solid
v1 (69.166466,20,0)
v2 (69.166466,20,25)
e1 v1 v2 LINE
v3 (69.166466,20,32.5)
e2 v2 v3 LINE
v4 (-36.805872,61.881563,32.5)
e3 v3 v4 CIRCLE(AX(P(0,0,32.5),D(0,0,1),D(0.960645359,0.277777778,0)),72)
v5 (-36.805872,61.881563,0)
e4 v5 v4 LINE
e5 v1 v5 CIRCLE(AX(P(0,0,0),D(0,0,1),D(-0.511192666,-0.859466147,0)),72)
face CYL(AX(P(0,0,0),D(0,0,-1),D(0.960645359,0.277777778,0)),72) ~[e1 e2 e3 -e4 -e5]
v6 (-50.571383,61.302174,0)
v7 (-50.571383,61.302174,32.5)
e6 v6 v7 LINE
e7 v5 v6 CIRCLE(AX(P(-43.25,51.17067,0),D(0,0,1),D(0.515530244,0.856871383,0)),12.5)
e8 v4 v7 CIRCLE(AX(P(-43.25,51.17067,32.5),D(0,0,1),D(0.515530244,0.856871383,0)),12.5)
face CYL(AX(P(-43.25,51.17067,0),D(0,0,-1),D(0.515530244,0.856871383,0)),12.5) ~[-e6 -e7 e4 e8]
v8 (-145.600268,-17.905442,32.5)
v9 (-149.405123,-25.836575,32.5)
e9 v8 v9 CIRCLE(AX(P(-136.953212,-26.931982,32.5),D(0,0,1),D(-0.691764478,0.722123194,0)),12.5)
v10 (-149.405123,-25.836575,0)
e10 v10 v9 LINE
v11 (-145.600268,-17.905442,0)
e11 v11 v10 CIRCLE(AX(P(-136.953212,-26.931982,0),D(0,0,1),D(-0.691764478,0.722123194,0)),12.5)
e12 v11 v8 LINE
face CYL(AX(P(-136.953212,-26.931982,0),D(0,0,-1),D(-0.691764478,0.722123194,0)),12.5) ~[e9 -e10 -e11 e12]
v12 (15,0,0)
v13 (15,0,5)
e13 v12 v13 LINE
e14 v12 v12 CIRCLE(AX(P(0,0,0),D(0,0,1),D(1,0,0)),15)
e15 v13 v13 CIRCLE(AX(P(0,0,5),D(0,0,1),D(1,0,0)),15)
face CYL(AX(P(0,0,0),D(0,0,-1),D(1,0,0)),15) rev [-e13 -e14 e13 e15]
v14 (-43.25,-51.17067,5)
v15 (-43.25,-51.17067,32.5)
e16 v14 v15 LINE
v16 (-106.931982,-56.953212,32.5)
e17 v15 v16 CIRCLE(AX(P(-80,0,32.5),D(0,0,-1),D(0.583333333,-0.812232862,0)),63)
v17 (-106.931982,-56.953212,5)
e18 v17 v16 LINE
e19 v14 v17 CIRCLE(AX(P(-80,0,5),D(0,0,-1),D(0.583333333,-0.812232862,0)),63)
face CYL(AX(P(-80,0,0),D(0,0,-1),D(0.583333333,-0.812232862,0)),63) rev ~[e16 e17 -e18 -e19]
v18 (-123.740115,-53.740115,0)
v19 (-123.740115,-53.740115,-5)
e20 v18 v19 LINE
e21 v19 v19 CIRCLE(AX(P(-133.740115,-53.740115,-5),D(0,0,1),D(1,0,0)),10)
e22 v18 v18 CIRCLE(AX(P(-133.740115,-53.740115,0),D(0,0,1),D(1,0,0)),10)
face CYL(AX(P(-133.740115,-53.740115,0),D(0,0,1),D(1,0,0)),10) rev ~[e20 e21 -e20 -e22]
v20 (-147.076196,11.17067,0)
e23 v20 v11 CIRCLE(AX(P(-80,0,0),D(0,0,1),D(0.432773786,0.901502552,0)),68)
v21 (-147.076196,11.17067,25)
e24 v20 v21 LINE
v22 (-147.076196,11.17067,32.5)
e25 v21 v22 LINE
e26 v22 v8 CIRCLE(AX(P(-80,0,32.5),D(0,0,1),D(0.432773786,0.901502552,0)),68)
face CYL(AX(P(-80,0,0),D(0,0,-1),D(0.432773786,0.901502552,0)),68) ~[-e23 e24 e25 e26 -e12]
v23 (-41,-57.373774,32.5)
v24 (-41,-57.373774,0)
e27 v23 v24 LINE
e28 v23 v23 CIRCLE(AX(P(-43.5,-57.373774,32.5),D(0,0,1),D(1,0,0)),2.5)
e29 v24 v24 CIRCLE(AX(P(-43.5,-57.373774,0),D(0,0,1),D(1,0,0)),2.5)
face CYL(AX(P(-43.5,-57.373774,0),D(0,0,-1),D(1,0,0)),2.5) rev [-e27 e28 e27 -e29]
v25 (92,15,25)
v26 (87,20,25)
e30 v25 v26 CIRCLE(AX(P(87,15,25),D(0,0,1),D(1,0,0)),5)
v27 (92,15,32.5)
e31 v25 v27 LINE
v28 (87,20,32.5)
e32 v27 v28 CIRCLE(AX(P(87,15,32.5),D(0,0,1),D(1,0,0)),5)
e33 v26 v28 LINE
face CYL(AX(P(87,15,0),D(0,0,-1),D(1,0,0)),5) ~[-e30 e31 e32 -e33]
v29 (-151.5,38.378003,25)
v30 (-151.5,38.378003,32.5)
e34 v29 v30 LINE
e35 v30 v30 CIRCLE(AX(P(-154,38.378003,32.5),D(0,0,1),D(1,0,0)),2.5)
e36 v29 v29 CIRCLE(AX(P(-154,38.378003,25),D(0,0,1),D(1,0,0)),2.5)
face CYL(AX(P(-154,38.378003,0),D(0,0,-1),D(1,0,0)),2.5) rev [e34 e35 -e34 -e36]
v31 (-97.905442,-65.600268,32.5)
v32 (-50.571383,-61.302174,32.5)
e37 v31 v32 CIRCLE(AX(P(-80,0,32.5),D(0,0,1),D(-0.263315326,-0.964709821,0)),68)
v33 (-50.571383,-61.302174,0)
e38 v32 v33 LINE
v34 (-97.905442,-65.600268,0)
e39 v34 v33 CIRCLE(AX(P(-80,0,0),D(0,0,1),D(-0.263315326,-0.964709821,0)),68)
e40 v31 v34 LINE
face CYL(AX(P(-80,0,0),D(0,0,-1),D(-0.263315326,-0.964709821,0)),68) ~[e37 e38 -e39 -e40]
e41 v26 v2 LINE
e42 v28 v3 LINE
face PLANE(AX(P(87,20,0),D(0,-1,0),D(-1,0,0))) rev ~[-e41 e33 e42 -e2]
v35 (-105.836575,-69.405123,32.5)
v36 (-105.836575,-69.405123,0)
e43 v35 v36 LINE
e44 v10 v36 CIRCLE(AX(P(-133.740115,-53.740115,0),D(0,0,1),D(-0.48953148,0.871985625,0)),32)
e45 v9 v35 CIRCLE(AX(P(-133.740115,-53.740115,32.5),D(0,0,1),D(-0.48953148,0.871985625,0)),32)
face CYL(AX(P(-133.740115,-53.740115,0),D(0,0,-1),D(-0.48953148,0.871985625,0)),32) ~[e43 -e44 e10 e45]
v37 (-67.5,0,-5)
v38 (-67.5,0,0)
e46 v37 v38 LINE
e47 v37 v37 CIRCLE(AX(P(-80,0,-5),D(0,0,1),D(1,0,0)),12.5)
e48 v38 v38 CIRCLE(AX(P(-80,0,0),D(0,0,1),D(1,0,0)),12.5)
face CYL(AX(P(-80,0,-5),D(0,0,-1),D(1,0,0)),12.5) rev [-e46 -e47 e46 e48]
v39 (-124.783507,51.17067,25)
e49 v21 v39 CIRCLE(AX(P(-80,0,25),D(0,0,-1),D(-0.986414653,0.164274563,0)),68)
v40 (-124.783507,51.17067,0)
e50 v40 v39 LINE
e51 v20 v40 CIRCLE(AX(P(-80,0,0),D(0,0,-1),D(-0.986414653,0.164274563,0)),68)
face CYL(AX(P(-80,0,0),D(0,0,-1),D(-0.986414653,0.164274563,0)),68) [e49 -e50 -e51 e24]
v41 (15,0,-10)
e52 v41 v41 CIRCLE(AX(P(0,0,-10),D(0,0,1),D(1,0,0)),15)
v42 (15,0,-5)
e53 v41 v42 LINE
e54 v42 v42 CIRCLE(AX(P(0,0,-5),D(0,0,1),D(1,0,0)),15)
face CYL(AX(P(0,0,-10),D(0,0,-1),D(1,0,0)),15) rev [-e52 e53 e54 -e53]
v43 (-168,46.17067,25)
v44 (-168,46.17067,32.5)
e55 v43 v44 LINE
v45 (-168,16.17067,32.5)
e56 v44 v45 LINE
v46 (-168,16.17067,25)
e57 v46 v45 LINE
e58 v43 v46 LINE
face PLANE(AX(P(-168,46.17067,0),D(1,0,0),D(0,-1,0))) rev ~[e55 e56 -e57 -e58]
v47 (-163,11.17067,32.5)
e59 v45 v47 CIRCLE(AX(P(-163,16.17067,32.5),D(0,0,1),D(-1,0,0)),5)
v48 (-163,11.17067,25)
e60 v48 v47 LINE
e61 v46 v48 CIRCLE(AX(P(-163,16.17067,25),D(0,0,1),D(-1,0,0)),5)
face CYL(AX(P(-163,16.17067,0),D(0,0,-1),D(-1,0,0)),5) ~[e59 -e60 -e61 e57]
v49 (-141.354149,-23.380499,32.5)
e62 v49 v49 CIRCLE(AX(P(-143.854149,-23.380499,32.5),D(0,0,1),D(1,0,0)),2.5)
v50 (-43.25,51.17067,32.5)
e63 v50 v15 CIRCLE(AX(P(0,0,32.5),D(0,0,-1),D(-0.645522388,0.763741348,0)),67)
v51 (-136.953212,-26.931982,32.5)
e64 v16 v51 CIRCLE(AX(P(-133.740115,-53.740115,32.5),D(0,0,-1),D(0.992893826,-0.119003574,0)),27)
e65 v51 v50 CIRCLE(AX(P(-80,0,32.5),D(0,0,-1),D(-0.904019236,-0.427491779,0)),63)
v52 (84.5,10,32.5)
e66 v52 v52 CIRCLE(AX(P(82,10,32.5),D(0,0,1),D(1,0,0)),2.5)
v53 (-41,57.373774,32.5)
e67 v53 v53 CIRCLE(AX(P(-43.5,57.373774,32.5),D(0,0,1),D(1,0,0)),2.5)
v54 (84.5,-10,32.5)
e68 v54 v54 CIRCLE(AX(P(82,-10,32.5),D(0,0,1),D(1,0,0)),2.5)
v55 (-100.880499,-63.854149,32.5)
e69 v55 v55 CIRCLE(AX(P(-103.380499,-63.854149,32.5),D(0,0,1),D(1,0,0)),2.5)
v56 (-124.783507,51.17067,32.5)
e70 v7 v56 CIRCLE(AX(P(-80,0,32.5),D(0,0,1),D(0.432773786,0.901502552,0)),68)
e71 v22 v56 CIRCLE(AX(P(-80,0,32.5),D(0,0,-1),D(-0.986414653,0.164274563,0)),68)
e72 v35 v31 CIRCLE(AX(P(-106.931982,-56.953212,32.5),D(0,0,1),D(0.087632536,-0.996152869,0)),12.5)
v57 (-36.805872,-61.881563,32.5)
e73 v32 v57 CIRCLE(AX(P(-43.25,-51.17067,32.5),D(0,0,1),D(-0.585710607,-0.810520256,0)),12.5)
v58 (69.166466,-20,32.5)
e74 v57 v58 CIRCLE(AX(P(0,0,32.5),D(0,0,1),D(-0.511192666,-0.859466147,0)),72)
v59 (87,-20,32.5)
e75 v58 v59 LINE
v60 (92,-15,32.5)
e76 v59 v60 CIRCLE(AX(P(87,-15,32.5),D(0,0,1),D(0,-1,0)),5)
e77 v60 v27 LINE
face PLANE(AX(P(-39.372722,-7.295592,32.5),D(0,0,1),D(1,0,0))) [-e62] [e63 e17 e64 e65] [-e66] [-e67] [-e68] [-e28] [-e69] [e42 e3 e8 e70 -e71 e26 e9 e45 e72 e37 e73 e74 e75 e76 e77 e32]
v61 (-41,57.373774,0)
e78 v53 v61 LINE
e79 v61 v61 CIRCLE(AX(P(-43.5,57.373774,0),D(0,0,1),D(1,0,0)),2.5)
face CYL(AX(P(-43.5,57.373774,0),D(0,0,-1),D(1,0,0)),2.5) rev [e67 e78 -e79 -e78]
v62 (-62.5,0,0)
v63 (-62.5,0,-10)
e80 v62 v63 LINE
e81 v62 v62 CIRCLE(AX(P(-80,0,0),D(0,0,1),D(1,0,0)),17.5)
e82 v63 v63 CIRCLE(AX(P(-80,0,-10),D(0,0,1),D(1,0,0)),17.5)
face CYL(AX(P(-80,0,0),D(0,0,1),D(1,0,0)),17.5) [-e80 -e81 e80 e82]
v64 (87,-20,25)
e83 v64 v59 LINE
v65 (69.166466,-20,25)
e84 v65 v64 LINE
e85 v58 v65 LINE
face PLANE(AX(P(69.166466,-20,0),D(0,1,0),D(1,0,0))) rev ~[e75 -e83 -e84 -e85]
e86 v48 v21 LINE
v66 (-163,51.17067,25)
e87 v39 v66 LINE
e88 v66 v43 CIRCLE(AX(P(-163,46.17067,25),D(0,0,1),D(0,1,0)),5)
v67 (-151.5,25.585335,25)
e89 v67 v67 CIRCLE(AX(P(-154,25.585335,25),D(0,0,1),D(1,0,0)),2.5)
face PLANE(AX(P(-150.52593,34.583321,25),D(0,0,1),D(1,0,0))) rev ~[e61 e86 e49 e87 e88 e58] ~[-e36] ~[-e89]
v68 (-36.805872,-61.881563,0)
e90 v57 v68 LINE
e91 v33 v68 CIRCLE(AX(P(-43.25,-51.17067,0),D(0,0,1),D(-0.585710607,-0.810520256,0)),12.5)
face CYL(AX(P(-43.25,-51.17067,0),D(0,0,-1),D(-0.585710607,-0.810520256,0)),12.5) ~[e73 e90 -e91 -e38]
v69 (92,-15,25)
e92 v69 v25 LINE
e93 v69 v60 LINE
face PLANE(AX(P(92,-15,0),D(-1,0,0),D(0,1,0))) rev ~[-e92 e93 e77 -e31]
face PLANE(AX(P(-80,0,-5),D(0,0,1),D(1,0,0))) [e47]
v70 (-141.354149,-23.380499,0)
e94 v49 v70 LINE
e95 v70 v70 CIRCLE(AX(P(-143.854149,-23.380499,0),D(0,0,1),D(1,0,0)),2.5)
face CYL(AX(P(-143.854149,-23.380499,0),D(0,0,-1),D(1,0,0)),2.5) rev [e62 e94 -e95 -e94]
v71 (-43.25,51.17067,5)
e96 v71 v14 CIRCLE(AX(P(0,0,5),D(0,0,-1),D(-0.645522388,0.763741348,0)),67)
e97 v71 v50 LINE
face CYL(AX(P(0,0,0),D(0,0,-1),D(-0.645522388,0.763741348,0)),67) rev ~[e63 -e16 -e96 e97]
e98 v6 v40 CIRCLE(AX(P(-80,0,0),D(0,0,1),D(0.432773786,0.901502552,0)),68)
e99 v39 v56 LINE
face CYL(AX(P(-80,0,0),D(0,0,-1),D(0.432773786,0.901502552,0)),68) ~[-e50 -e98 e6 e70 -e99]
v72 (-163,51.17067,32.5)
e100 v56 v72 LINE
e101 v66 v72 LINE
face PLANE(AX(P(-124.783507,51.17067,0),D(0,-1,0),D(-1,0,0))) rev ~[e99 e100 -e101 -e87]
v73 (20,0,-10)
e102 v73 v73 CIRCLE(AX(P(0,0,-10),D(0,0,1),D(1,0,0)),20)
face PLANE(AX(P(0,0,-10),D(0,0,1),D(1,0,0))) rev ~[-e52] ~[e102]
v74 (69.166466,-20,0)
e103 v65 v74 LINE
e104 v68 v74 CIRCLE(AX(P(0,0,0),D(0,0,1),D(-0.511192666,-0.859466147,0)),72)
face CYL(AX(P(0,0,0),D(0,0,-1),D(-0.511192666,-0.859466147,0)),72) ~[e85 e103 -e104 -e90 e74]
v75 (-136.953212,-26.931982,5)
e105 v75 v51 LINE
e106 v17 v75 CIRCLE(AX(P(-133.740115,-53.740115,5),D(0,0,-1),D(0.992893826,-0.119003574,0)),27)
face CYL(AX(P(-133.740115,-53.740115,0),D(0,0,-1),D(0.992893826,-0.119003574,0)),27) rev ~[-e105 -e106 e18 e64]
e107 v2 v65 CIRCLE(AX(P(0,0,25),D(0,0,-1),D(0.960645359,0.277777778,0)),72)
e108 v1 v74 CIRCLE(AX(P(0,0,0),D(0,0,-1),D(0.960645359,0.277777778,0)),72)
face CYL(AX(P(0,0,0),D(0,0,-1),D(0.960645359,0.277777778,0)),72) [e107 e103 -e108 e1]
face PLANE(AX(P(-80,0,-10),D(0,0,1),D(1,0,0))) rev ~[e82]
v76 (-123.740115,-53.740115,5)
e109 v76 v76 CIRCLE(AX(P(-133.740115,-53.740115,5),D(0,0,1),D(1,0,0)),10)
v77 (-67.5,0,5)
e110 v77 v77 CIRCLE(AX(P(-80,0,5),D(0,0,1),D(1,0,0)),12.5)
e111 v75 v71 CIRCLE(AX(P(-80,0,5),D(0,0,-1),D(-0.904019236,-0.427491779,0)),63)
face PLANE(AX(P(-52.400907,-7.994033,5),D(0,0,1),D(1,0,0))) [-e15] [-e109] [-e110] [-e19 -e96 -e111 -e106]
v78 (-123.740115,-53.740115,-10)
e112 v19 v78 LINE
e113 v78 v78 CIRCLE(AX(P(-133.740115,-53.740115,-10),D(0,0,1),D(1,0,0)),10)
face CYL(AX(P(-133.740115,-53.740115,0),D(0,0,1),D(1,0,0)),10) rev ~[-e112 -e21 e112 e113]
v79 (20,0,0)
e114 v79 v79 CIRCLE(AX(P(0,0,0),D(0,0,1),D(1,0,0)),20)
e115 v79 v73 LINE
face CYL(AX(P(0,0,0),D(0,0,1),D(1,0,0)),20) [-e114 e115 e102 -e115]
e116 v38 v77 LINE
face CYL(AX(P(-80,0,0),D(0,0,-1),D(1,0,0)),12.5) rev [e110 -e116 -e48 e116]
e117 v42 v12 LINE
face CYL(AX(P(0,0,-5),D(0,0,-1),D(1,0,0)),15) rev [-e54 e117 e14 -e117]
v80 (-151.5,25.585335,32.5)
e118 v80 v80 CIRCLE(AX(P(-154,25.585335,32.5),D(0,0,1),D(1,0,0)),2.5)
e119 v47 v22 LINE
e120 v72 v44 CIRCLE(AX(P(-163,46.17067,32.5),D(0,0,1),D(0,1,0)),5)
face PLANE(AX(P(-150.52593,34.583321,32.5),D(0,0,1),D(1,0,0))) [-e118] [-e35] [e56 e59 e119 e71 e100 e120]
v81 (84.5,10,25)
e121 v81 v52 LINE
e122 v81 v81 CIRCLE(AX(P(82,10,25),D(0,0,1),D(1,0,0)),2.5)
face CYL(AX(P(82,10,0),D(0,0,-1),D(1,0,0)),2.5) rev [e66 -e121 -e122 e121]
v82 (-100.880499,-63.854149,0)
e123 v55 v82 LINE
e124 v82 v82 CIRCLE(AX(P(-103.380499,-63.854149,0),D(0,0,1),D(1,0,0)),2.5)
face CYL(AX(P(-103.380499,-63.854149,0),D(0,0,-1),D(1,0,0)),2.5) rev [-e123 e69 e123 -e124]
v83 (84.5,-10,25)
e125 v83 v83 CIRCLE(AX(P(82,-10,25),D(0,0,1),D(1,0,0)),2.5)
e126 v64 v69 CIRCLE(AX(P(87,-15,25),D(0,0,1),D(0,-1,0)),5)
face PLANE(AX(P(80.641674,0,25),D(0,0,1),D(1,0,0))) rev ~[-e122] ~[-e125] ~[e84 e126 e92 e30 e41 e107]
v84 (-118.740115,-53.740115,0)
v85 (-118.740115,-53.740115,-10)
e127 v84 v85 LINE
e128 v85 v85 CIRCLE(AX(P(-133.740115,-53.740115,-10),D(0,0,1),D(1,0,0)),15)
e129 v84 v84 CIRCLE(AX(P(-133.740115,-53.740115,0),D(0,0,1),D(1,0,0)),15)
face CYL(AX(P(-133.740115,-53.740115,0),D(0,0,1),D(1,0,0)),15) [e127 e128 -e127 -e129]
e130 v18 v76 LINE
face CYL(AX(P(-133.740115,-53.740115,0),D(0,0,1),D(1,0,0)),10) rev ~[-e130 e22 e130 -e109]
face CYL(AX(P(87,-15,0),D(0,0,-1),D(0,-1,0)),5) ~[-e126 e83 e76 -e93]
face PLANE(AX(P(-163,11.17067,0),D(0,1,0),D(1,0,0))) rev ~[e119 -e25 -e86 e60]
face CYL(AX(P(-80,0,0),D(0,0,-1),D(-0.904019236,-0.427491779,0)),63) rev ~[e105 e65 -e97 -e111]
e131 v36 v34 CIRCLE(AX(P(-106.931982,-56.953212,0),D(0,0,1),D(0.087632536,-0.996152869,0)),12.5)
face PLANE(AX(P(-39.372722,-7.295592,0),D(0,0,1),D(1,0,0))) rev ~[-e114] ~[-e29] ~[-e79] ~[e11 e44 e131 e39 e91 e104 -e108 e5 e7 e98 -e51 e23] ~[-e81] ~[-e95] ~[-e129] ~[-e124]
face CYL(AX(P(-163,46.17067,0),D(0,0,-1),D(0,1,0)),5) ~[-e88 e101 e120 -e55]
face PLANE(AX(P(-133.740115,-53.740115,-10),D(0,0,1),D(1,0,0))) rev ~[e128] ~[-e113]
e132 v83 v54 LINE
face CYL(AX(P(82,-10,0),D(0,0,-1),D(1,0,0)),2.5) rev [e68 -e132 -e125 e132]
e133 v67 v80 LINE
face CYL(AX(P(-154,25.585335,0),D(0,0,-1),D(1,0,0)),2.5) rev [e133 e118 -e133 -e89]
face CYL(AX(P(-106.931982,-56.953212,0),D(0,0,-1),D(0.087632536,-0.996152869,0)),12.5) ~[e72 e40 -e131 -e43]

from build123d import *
from build123d.topology import SkipClean

# Parameters (mm, degrees)
SKETCH1_R           = 2.5
SKETCH1_R_2         = 15
SKETCH1_R_3         = 12.5
BOSS_EXTRUDE2_DEPTH = 5
SKETCH1_5_R         = 2.5
BOSS_EXTRUDE3_DEPTH = 32.5
SKETCH1_6_R         = 2.5
CUT_EXTRUDE1_DEPTH  = 25
SKETCH1_7_R         = 20
SKETCH1_7_R_2       = 17.5
BOSS_EXTRUDE4_DEPTH = 10
CUT_EXTRUDE2_START  = -5
SKETCH1_8_R         = 15
SKETCH1_8_R_2       = 12.5
CUT_EXTRUDE2_DEPTH  = 5
SKETCH1_9_R         = 15
SKETCH1_9_R_2       = 10
BOSS_EXTRUDE5_DEPTH = 10
SKETCH1_10_R        = 10
CUT_EXTRUDE4_DEPTH  = 5
CUT_EXTRUDE5_START  = -10
SKETCH1_11_R        = 15
CUT_EXTRUDE5_DEPTH  = 10
SKETCH1_12_R        = 2.5
BOSS_EXTRUDE7_DEPTH = 32.5
SKETCH1_14_R        = 2.5
CUT_EXTRUDE7_DEPTH  = 25


with BuildPart() as part:
    # Sketch1 → Boss-Extrude2 (new body)
    with BuildSketch(Plane.XY):
        with BuildLine():
            ThreePointArc((-36.80587195, 61.881562601), (-43.775658453, 63.659612747), (-50.571382583, 61.302173509))
            ThreePointArc((-50.571382583, 61.302173509), (-123.538014062, 52.234484122), (-145.600267844, -17.905442155))
            ThreePointArc((-145.600267844, -17.905442155), (-148.223407914, -21.525256537), (-149.405122728, -25.836575371))
            ThreePointArc((-149.405122728, -25.836575371), (-156.367532368, -76.367532368), (-105.836575371, -69.405122728))
            ThreePointArc((-105.836575371, -69.405122728), (-101.525256537, -68.223407914), (-97.905442155, -65.600267844))
            ThreePointArc((-97.905442155, -65.600267844), (-73.850667048, -67.721382917), (-50.571382583, -61.302173509))
            ThreePointArc((-50.571382583, -61.302173509), (-43.775658453, -63.659612747), (-36.80587195, -61.881562601))
            ThreePointArc((-36.80587195, -61.881562601), (72, 0), (-36.80587195, 61.881562601))
        make_face()
        with Locations((-103.38049856, -63.85414855)):
            Circle(SKETCH1_R, mode=Mode.SUBTRACT)
        with Locations((-43.5, -57.373774497)):
            Circle(SKETCH1_R, mode=Mode.SUBTRACT)
        with Locations((-143.85414855, -23.38049856)):
            Circle(SKETCH1_R, mode=Mode.SUBTRACT)
        with Locations((-43.5, 57.373774497)):
            Circle(SKETCH1_R, mode=Mode.SUBTRACT)
        Circle(SKETCH1_R_2, mode=Mode.SUBTRACT)
        with Locations((-80, 0)):
            Circle(SKETCH1_R_3, mode=Mode.SUBTRACT)
    extrude(amount=BOSS_EXTRUDE2_DEPTH)

    # Sketch1<5> → Boss-Extrude3 (add)
    with BuildSketch(Plane.XY):
        with BuildLine():
            Line((92, -15), (92, 15))
            ThreePointArc((92, 15), (90.535533906, 18.535533906), (87, 20))
            Line((87, 20), (69.166465863, 20))
            ThreePointArc((69.166465863, 20), (26.463528319, 66.9602992), (-36.80587195, 61.881562601))
            ThreePointArc((-36.80587195, 61.881562601), (-43.775658453, 63.659612747), (-50.571382583, 61.302173509))
            ThreePointArc((-50.571382583, 61.302173509), (-123.538014062, 52.234484122), (-145.600267844, -17.905442155))
            ThreePointArc((-145.600267844, -17.905442155), (-148.223407914, -21.525256537), (-149.405122728, -25.836575371))
            ThreePointArc((-149.405122728, -25.836575371), (-156.367532368, -76.367532368), (-105.836575371, -69.405122728))
            ThreePointArc((-105.836575371, -69.405122728), (-101.525256537, -68.223407914), (-97.905442155, -65.600267844))
            ThreePointArc((-97.905442155, -65.600267844), (-73.850667048, -67.721382917), (-50.571382583, -61.302173509))
            ThreePointArc((-50.571382583, -61.302173509), (-43.775658453, -63.659612747), (-36.80587195, -61.881562601))
            ThreePointArc((-36.80587195, -61.881562601), (26.463528319, -66.9602992), (69.166465863, -20))
            Line((69.166465863, -20), (87, -20))
            ThreePointArc((87, -20), (90.535533906, -18.535533906), (92, -15))
        make_face()
        with Locations((82, -10)):
            Circle(SKETCH1_5_R, mode=Mode.SUBTRACT)
        with Locations((82, 10)):
            Circle(SKETCH1_5_R, mode=Mode.SUBTRACT)
        with Locations((-43.5, 57.373774497)):
            Circle(SKETCH1_5_R, mode=Mode.SUBTRACT)
        with Locations((-103.38049856, -63.85414855)):
            Circle(SKETCH1_5_R, mode=Mode.SUBTRACT)
        with Locations((-43.5, -57.373774497)):
            Circle(SKETCH1_5_R, mode=Mode.SUBTRACT)
        with Locations((-143.85414855, -23.38049856)):
            Circle(SKETCH1_5_R, mode=Mode.SUBTRACT)
        with BuildLine():
            ThreePointArc((-43.25, 51.17067031), (67, 0), (-43.25, -51.17067031))
            ThreePointArc((-43.25, -51.17067031), (-74.302823883, -62.741869468), (-106.931982072, -56.953211864))
            ThreePointArc((-106.931982072, -56.953211864), (-152.831998462, -72.831998462), (-136.953211864, -26.931982072))
            ThreePointArc((-136.953211864, -26.931982072), (-120.336689499, 48.393713231), (-43.25, 51.17067031))
        make_face(mode=Mode.SUBTRACT)
    extrude(amount=BOSS_EXTRUDE3_DEPTH)

    # Sketch1<6> → Cut-Extrude1 (cut)
    with SkipClean():  # the faces are left unmerged after this step: merging them gives an invalid solid
        with BuildSketch(Plane.XY):
            with BuildLine():
                Line((92, -15), (92, 0))
                Line((92, 0), (92, 15))
                ThreePointArc((92, 15), (90.535533906, 18.535533906), (87, 20))
                Line((87, 20), (69.166465863, 20))
                ThreePointArc((69.166465863, 20), (72, 0), (69.166465863, -20))
                Line((69.166465863, -20), (87, -20))
                ThreePointArc((87, -20), (90.535533906, -18.535533906), (92, -15))
            make_face()
            with Locations((82, -10)):
                Circle(SKETCH1_6_R, mode=Mode.SUBTRACT)
            with Locations((82, 10)):
                Circle(SKETCH1_6_R, mode=Mode.SUBTRACT)
        extrude(amount=CUT_EXTRUDE1_DEPTH, mode=Mode.SUBTRACT)

    # Sketch1<7> → Boss-Extrude4 (add)
    with SkipClean():  # the faces are left unmerged after this step: merging them gives an invalid solid
        with BuildSketch(Plane.XY):
            Circle(SKETCH1_7_R)
            with Locations((-80, 0)):
                Circle(SKETCH1_7_R_2)
        extrude(amount=-BOSS_EXTRUDE4_DEPTH)

    # Sketch1<8> → Cut-Extrude2 (cut)
    with SkipClean():  # the faces are left unmerged after this step: merging them gives an invalid solid
        with BuildSketch(Plane.XY.offset(CUT_EXTRUDE2_START)):
            Circle(SKETCH1_8_R)
            with Locations((-80, 0)):
                Circle(SKETCH1_8_R_2)
        extrude(amount=CUT_EXTRUDE2_DEPTH, mode=Mode.SUBTRACT)

    # Sketch1<9> → Boss-Extrude5 (add)
    with SkipClean():  # the faces are left unmerged after this step: merging them gives an invalid solid
        with BuildSketch(Plane.XY):
            with Locations((-133.74011537, -53.74011537)):
                Circle(SKETCH1_9_R)
            with Locations((-133.74011537, -53.74011537)):
                Circle(SKETCH1_9_R_2, mode=Mode.SUBTRACT)
        extrude(amount=-BOSS_EXTRUDE5_DEPTH)

    # Sketch1<10> → Cut-Extrude4 (cut, symmetric)
    with SkipClean():  # the faces are left unmerged after this step: merging them gives an invalid solid
        with BuildSketch(Plane.XY):
            with Locations((-133.74011537, -53.74011537)):
                Circle(SKETCH1_10_R)
        extrude(amount=CUT_EXTRUDE4_DEPTH, both=True, mode=Mode.SUBTRACT)

    # Sketch1<11> → Cut-Extrude5 (cut)
    with SkipClean():  # the faces are left unmerged after this step: merging them gives an invalid solid
        with BuildSketch(Plane.XY.offset(CUT_EXTRUDE5_START)):
            Circle(SKETCH1_11_R)
        extrude(amount=CUT_EXTRUDE5_DEPTH, mode=Mode.SUBTRACT)

    # Sketch1<12> → Boss-Extrude7 (add)
    with SkipClean():  # the faces are left unmerged after this step: merging them gives an invalid solid
        with BuildSketch(Plane.XY):
            with BuildLine():
                ThreePointArc((-147.07619641, 11.17067031), (-139.39821809, 33.103650671), (-124.783507009, 51.17067031))
                Line((-124.783507009, 51.17067031), (-143.891753504, 51.17067031))
                Line((-143.891753504, 51.17067031), (-163, 51.17067031))
                ThreePointArc((-163, 51.17067031), (-166.535533906, 49.706204216), (-168, 46.17067031))
                Line((-168, 46.17067031), (-168, 16.17067031))
                ThreePointArc((-168, 16.17067031), (-166.535533906, 12.635136404), (-163, 11.17067031))
                Line((-163, 11.17067031), (-147.07619641, 11.17067031))
            make_face()
            with Locations((-154, 25.585335155)):
                Circle(SKETCH1_12_R, mode=Mode.SUBTRACT)
            with Locations((-154, 38.378002733)):
                Circle(SKETCH1_12_R, mode=Mode.SUBTRACT)
        extrude(amount=BOSS_EXTRUDE7_DEPTH)

    # Sketch1<14> → Cut-Extrude7 (cut)
    with SkipClean():  # the faces are left unmerged after this step: merging them gives an invalid solid
        with BuildSketch(Plane.XY):
            with BuildLine():
                ThreePointArc((-147.07619641, 11.17067031), (-139.39821809, 33.103650671), (-124.783507009, 51.17067031))
                Line((-124.783507009, 51.17067031), (-143.891753504, 51.17067031))
                Line((-143.891753504, 51.17067031), (-163, 51.17067031))
                ThreePointArc((-163, 51.17067031), (-166.535533906, 49.706204216), (-168, 46.17067031))
                Line((-168, 46.17067031), (-168, 16.17067031))
                ThreePointArc((-168, 16.17067031), (-166.535533906, 12.635136404), (-163, 11.17067031))
                Line((-163, 11.17067031), (-147.07619641, 11.17067031))
            make_face()
            with Locations((-154, 25.585335155)):
                Circle(SKETCH1_14_R, mode=Mode.SUBTRACT)
            with Locations((-154, 38.378002733)):
                Circle(SKETCH1_14_R, mode=Mode.SUBTRACT)
        extrude(amount=CUT_EXTRUDE7_DEPTH, mode=Mode.SUBTRACT)


solid = part.part
